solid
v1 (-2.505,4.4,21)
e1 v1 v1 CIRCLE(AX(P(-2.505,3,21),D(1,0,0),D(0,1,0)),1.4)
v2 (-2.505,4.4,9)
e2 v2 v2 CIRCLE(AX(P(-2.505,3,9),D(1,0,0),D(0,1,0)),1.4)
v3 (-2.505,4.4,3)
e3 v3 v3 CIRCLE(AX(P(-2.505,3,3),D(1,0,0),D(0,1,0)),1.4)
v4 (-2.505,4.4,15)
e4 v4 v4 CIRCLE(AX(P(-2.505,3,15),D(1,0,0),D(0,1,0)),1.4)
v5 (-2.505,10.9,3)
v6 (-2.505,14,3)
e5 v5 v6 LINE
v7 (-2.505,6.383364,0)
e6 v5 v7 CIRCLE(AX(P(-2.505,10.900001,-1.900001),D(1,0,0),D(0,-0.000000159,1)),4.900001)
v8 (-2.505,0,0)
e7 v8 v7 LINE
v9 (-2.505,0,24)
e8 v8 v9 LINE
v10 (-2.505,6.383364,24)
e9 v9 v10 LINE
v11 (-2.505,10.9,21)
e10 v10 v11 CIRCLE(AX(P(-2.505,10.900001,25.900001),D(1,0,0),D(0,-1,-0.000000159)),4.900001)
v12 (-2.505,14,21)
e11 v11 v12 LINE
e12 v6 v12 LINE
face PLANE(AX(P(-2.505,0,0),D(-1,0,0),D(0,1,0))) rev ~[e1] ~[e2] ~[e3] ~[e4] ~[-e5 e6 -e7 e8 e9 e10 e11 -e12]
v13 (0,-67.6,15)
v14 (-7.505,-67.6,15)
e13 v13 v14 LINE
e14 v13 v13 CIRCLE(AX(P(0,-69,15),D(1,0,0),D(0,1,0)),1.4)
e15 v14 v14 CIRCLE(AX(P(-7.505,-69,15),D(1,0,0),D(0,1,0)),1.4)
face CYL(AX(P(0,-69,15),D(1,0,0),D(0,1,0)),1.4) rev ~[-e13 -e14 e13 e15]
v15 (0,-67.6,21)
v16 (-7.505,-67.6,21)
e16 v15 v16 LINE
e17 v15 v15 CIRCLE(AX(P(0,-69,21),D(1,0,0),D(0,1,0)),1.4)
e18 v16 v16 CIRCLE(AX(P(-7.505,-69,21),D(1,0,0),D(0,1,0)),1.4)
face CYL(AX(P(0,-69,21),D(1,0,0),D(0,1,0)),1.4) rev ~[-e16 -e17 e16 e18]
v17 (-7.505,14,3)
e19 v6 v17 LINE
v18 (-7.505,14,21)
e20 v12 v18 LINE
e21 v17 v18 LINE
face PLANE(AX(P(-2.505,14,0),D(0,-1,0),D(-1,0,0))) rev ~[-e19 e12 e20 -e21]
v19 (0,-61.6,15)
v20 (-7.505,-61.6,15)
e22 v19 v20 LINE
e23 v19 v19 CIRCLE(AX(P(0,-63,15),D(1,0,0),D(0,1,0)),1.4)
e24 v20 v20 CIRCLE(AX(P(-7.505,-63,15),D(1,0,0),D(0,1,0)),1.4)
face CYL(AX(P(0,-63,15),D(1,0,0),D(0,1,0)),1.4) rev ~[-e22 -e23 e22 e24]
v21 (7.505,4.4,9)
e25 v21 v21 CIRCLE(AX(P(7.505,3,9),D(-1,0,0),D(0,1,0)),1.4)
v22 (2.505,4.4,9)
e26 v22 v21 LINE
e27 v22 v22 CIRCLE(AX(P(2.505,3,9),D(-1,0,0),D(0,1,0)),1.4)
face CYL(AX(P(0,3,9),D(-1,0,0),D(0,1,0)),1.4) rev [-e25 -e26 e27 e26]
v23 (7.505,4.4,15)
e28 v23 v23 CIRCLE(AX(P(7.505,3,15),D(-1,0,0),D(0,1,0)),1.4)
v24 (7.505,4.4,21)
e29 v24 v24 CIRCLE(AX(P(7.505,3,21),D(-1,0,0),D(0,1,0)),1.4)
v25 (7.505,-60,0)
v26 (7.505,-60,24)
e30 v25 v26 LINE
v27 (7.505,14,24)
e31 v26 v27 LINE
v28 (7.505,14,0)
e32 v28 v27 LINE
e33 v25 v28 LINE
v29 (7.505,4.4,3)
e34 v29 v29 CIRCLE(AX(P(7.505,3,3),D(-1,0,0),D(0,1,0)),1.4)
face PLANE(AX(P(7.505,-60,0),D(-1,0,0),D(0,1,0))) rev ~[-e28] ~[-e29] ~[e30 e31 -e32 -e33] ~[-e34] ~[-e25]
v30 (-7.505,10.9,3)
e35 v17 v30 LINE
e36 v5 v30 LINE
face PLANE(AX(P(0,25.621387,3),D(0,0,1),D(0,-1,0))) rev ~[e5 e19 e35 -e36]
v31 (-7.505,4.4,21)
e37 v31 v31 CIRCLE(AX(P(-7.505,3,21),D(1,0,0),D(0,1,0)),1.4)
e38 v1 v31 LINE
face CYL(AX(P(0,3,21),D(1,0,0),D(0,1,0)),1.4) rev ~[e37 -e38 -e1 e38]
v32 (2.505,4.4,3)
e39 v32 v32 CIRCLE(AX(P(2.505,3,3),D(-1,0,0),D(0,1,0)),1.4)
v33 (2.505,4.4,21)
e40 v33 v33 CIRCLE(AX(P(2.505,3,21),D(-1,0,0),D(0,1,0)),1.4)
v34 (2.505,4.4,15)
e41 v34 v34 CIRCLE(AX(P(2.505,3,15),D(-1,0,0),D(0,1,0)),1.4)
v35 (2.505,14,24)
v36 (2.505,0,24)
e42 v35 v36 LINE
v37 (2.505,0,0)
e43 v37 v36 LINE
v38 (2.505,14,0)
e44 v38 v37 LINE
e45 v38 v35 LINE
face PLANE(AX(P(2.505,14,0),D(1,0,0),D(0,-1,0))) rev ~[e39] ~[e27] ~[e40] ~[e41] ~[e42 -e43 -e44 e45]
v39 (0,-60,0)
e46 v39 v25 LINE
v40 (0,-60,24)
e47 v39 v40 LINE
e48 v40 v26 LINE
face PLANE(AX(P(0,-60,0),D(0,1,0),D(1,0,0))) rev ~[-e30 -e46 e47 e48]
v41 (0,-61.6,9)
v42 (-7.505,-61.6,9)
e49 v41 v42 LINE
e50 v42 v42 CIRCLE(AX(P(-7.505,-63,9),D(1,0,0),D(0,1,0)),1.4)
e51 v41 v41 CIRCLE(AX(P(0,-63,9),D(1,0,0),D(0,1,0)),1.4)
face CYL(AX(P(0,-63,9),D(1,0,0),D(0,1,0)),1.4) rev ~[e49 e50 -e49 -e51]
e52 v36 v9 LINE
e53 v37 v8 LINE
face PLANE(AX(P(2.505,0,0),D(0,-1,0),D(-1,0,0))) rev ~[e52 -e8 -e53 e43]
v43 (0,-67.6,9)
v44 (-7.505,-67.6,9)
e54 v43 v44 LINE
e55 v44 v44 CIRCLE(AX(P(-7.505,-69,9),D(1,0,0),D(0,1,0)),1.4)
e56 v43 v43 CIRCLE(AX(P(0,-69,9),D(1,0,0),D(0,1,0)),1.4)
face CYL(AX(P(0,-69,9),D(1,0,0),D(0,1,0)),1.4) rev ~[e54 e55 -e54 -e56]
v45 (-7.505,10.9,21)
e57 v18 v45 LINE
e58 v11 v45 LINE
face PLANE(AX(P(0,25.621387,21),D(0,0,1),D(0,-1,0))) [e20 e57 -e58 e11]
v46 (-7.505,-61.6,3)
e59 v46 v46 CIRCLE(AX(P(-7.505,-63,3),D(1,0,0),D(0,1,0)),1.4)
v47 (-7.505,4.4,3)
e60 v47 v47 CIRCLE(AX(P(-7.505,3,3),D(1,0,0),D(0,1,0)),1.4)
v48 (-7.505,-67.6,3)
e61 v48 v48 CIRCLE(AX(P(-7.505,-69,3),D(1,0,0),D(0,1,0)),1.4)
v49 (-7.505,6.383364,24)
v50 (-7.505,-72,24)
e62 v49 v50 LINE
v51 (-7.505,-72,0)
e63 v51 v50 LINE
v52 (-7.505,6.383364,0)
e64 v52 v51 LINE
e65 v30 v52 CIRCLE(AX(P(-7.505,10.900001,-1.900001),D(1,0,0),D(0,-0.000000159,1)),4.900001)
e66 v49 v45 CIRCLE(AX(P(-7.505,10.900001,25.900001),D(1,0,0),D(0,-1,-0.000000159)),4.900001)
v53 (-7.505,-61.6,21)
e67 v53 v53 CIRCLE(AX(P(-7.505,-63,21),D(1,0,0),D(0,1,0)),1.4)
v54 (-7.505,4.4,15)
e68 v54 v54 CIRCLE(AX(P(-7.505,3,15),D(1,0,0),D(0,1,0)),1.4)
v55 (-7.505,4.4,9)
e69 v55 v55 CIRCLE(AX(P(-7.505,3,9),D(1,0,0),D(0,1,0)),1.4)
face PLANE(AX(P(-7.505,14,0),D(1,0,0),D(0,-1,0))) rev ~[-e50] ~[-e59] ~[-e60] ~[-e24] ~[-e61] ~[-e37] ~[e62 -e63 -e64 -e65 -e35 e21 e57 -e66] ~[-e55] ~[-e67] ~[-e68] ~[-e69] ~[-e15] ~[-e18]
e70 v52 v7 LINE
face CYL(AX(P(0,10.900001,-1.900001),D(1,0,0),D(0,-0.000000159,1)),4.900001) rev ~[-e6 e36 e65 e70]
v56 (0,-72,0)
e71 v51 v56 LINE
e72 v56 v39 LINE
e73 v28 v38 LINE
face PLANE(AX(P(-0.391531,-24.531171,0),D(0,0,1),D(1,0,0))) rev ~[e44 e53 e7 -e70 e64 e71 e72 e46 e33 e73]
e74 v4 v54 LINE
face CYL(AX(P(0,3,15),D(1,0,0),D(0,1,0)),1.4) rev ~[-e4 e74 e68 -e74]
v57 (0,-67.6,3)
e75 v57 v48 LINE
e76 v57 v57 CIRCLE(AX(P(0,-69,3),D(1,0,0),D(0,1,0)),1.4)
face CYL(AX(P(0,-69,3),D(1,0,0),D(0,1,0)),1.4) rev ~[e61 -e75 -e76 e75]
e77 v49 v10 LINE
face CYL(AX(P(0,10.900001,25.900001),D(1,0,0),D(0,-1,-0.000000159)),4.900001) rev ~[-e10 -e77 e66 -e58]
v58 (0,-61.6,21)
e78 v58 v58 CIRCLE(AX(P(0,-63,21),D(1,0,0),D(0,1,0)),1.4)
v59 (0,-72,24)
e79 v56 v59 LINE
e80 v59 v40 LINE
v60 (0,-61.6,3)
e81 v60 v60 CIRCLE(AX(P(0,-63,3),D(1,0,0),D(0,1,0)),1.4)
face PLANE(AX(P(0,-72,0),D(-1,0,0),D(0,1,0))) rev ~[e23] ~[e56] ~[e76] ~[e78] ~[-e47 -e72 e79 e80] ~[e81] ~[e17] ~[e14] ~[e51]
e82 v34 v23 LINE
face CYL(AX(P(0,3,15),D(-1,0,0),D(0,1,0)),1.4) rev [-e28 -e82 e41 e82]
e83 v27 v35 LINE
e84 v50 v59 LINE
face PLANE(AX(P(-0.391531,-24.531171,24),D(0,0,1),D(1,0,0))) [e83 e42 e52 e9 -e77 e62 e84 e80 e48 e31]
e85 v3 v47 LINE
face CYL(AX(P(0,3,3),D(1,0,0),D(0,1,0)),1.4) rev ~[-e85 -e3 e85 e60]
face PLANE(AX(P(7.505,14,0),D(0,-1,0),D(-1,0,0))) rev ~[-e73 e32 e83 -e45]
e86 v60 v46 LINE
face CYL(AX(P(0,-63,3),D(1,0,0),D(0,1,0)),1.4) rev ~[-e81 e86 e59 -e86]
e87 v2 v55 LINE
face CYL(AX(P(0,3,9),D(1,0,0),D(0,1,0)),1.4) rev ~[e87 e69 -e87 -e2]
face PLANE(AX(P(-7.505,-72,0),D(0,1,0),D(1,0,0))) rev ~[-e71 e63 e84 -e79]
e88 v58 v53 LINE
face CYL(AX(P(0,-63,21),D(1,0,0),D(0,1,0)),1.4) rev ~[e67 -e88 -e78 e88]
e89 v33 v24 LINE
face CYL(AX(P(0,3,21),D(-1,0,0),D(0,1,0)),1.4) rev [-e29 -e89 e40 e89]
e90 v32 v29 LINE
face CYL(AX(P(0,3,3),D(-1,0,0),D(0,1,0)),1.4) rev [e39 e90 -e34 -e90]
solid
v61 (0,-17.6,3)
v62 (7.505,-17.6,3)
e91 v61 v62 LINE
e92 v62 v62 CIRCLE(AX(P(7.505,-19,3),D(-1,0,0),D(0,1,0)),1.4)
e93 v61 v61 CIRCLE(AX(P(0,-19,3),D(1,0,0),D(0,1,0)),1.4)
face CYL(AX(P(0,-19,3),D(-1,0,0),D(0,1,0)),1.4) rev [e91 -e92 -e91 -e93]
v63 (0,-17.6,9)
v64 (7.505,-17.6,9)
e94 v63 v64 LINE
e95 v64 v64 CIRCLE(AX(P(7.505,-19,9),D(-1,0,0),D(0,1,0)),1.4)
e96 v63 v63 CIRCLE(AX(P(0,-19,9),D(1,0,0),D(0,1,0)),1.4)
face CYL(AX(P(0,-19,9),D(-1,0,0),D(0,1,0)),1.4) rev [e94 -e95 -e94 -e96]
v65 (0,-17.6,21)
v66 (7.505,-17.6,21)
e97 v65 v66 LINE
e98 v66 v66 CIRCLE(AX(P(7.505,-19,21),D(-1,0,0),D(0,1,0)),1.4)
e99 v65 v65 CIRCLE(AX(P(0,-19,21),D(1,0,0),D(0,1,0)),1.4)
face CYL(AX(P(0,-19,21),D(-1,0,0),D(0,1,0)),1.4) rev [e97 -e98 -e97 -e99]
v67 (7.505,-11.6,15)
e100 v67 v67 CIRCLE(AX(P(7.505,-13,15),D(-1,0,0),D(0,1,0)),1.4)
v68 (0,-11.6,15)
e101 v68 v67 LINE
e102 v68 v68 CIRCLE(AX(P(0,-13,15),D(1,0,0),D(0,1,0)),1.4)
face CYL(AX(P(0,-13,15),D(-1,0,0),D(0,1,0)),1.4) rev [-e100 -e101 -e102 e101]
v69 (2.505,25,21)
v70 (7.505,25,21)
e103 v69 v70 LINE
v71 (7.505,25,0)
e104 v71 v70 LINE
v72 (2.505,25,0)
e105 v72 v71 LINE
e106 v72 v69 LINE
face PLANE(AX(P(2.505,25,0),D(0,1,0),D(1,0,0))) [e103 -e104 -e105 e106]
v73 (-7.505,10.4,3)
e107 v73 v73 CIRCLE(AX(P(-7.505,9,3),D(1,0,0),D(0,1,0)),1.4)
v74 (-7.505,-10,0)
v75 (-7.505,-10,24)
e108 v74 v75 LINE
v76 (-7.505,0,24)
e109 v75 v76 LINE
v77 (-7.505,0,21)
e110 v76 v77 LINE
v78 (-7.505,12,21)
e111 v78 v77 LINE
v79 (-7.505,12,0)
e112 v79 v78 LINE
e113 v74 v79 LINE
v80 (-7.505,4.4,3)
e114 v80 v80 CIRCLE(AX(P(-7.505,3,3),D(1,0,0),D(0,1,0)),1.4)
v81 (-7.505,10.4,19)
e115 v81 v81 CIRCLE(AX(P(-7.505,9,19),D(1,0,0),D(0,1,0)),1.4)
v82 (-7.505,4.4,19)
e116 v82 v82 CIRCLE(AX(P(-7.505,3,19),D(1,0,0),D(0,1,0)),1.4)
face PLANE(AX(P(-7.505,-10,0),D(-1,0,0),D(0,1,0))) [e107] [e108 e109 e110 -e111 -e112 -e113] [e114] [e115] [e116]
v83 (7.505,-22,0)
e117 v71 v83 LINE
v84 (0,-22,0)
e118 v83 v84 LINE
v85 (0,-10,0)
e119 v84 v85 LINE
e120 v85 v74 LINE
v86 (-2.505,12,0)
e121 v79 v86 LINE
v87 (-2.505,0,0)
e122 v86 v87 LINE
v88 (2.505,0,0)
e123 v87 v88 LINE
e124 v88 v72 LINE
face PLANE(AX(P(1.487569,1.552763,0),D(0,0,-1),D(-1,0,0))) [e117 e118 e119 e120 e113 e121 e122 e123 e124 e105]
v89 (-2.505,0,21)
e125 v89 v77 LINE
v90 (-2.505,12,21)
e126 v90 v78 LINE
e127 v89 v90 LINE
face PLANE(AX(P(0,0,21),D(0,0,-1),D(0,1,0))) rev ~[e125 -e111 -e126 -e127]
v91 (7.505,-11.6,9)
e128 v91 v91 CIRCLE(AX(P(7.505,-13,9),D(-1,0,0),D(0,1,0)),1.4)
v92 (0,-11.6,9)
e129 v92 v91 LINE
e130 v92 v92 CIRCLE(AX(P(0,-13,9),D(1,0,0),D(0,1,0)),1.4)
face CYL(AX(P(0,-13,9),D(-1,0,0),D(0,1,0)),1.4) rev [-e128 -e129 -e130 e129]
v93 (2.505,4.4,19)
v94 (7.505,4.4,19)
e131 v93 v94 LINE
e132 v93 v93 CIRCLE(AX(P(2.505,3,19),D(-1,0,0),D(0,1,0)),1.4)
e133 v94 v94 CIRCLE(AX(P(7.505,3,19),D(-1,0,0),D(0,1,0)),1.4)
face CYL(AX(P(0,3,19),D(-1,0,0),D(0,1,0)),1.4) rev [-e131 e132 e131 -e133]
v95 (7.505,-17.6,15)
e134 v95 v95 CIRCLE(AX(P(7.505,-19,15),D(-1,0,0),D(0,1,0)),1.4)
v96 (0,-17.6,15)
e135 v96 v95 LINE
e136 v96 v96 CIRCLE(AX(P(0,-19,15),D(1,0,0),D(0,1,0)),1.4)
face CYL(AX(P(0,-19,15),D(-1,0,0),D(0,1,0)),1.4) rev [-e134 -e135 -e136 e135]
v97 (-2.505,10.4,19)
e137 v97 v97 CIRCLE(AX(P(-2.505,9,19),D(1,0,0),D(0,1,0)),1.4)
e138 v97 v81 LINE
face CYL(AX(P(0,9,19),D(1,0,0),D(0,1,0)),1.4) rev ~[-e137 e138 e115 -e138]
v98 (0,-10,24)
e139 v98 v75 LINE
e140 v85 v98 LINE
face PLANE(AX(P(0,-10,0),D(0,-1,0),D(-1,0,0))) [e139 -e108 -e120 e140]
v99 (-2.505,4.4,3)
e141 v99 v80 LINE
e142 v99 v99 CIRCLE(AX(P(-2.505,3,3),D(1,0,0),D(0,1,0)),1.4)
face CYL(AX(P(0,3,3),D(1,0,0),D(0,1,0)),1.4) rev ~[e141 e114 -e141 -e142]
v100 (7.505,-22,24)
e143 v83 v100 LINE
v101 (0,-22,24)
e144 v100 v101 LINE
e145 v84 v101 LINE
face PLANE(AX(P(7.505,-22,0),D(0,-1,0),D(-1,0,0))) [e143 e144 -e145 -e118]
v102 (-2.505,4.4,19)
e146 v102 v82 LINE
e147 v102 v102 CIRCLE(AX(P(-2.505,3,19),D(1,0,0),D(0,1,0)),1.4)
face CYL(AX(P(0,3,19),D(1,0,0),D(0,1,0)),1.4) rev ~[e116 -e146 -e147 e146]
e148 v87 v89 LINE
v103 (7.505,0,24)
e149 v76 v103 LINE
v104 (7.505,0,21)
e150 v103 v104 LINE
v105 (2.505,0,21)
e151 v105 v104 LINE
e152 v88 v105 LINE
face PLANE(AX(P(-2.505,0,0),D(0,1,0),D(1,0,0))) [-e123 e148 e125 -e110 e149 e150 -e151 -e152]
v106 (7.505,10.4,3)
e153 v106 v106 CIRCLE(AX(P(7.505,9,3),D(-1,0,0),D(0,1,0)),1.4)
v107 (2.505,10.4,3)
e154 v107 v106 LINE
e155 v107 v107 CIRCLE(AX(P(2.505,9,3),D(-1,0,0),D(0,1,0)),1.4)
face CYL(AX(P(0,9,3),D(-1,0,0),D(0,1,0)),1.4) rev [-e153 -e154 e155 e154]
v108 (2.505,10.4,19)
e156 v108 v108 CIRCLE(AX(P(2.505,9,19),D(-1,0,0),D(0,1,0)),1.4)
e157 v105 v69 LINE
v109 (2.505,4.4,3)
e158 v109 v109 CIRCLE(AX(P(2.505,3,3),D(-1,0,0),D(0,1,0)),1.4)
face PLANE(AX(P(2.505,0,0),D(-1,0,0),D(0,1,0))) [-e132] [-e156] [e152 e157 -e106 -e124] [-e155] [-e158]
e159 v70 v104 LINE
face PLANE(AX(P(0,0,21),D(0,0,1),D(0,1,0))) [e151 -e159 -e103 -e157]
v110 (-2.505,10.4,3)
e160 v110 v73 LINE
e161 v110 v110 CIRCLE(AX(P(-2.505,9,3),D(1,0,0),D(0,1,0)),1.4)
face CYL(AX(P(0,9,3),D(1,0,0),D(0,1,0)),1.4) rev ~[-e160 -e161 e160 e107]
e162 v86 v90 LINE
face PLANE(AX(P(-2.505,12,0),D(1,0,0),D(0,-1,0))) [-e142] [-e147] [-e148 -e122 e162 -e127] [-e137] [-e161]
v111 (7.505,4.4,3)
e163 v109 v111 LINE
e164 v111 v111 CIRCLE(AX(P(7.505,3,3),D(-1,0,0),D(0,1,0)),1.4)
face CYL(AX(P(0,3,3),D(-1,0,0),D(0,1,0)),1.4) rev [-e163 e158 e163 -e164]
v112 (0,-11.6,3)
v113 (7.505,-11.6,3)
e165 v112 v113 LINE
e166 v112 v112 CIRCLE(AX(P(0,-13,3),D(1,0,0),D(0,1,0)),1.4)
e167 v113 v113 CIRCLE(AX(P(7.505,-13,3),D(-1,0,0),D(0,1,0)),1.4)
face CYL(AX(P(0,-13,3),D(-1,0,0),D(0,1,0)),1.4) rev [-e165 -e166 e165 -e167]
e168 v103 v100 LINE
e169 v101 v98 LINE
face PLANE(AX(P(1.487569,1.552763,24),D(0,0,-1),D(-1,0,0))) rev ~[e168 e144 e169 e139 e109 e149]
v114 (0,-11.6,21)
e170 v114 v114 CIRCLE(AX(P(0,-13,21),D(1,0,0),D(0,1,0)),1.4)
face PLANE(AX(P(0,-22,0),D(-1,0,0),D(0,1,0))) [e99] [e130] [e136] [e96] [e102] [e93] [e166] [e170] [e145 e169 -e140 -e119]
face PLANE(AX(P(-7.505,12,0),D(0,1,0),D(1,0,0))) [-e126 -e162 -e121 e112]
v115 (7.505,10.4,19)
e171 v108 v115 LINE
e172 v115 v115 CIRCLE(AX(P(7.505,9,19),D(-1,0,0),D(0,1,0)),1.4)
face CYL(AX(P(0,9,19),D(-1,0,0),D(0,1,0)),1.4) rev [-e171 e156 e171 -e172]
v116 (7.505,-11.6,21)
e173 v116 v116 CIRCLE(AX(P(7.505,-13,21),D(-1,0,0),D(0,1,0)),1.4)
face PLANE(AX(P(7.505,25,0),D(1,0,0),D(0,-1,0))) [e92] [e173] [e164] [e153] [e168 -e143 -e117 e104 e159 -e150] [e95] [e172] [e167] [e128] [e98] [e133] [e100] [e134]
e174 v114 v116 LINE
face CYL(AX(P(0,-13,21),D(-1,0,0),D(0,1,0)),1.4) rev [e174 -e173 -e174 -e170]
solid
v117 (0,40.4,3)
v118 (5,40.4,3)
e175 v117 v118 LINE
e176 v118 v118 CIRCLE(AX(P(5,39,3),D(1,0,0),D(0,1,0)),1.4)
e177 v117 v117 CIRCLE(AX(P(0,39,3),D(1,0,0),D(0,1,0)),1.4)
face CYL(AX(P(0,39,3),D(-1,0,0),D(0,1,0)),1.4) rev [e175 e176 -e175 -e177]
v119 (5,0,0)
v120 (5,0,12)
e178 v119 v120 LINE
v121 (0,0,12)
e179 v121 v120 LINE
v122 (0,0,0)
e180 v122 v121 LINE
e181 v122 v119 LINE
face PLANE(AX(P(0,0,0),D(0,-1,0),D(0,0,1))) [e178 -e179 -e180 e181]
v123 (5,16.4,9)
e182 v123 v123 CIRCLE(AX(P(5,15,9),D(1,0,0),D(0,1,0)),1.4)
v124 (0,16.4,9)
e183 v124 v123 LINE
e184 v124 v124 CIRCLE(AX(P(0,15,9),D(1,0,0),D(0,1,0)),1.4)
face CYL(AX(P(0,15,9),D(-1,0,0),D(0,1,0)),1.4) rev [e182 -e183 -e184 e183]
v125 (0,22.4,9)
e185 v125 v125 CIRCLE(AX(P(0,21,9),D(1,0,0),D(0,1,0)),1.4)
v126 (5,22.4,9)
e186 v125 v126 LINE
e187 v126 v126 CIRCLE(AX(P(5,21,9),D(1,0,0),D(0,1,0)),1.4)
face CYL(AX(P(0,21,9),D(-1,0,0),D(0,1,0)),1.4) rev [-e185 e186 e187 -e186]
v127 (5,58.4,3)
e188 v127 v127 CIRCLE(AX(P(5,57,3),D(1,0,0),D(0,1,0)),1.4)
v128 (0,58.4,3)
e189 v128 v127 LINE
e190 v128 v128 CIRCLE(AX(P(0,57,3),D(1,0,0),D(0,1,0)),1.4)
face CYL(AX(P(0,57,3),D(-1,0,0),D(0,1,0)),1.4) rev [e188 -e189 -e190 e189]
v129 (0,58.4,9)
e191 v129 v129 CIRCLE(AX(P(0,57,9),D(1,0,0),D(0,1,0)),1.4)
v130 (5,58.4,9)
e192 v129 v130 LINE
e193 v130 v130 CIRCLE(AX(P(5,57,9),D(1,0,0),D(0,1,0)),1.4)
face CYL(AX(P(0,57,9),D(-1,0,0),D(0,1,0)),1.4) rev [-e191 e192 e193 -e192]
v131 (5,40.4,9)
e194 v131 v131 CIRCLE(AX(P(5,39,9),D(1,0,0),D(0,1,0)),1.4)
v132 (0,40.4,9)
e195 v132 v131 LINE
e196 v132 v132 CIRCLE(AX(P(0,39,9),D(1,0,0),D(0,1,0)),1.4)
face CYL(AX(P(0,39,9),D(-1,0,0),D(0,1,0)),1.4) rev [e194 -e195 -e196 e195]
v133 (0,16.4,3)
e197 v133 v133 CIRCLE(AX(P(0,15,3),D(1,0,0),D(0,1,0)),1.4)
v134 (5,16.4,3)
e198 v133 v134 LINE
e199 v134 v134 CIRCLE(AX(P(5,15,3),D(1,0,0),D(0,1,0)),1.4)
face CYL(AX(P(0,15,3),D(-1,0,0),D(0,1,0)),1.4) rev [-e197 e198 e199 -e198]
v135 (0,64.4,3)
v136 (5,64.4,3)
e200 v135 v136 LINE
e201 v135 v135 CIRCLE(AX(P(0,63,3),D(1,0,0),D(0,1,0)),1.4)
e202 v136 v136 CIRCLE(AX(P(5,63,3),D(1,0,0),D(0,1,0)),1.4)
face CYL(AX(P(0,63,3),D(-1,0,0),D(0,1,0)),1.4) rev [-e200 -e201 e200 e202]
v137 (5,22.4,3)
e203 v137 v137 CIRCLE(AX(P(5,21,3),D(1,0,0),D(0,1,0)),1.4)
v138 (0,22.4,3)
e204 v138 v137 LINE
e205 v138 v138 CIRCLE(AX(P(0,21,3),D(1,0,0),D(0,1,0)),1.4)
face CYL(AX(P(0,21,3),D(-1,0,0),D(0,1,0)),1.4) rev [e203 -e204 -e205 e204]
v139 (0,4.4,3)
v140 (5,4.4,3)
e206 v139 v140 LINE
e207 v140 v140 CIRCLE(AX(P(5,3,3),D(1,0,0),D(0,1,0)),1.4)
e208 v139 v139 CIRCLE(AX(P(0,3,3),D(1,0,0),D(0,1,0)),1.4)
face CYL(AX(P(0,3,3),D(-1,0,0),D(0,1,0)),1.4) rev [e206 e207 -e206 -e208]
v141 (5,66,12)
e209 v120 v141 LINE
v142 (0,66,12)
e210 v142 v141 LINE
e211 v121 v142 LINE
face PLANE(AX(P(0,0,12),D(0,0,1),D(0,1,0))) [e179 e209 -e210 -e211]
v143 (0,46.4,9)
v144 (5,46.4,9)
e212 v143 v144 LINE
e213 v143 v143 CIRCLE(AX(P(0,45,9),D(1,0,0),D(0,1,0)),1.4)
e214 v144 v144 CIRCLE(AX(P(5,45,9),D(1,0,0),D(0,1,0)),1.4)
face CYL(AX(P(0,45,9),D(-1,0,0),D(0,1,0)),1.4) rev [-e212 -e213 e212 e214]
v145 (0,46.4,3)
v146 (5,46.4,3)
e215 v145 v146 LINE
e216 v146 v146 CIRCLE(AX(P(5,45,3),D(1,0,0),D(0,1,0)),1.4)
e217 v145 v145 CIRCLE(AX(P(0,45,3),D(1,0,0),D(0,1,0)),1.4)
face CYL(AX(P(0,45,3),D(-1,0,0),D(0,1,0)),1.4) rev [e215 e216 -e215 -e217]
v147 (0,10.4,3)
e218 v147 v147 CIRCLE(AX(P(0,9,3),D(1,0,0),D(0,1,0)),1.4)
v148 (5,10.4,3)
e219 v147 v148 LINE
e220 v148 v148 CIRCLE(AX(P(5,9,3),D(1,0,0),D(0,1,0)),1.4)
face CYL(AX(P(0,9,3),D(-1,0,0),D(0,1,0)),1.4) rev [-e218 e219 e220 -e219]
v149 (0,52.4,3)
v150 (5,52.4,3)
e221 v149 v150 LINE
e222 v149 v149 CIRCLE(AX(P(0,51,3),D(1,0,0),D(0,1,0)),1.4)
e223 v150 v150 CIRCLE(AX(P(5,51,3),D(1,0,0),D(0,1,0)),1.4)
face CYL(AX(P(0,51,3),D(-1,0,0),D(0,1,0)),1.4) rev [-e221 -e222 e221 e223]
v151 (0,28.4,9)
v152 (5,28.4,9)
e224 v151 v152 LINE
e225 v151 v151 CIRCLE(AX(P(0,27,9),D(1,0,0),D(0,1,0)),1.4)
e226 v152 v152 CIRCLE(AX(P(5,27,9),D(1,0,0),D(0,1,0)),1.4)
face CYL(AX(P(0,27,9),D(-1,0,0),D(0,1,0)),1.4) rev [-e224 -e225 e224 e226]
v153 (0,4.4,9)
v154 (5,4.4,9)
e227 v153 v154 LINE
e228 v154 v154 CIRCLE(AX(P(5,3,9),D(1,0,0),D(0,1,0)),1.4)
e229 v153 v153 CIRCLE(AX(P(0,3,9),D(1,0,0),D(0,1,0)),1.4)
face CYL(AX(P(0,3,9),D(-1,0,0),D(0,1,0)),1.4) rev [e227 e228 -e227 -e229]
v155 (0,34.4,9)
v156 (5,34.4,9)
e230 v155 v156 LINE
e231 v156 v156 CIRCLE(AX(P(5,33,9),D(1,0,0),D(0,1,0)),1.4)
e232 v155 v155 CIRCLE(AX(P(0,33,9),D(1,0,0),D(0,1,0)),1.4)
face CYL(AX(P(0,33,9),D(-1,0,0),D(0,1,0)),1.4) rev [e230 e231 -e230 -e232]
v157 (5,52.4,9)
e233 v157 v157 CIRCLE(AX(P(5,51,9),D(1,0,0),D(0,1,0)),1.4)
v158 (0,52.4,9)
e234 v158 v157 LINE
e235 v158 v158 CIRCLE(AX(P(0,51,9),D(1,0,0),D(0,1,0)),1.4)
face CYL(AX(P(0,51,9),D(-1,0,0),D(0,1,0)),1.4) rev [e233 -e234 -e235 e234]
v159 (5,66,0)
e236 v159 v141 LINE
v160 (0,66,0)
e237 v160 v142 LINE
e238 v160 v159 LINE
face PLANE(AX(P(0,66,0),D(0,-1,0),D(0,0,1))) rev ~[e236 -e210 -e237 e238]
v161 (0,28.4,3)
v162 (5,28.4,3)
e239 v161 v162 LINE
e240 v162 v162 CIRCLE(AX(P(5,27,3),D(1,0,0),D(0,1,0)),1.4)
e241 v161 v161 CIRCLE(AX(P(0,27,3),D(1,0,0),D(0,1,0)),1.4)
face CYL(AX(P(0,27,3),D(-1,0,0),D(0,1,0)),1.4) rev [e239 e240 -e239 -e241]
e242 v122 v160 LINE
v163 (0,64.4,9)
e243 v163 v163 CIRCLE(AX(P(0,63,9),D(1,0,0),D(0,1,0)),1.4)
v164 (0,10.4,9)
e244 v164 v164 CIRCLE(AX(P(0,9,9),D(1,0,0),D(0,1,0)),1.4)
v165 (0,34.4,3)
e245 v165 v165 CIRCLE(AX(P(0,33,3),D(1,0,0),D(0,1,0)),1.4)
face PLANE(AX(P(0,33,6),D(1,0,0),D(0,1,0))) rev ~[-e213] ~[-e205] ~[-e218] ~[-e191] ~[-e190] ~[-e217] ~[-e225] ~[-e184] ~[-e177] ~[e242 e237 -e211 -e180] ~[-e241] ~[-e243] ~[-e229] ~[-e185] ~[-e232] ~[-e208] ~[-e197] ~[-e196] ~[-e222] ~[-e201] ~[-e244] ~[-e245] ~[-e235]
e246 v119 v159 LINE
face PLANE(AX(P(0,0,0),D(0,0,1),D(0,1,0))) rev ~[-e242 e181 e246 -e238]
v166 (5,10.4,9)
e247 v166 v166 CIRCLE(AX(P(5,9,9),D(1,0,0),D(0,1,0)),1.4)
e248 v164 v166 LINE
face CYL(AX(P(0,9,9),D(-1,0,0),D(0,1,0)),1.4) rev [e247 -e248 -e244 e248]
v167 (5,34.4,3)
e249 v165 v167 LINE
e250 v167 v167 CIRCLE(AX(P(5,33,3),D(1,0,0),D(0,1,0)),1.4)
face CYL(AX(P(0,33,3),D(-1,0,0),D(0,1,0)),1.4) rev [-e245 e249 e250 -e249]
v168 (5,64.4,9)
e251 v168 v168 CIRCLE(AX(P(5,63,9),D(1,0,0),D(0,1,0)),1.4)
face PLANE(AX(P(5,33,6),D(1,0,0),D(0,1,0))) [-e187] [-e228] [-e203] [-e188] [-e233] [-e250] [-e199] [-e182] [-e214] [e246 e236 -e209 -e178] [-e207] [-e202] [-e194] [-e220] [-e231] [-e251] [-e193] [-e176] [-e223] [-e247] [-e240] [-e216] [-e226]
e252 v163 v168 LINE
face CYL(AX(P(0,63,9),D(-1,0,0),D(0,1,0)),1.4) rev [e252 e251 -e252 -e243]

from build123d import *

# Parameters (mm, degrees)
PAD_DEPTH            = 24
SKETCH001_R          = 1.4
POCKET_DEPTH         = 7.506
POCKET_DEPTH_BACK    = -7.506
POCKET001_DEPTH      = 7.506
PAD001_DEPTH         = 24
SKETCH004_R          = 1.4
SKETCH004_W          = 25
SKETCH004_H          = 6
POCKET002_DEPTH      = 7.506
POCKET002_DEPTH_BACK = -7.506
SKETCH005_W          = 66
SKETCH005_H          = 12
SKETCH005_R          = 1.4
PAD002_DEPTH         = 5


with BuildPart() as bodyfrontconnextender:
    # Sketch → Pad (new body)
    with BuildSketch(Plane.XY):
        Polygon((-2.505, 0), (-2.505, 14), (-7.505, 14), (-7.505, -72), (0, -72), (0, -60), (7.505, -60), (7.505, 14), (2.505, 14), (2.505, 0), align=None)
    extrude(amount=PAD_DEPTH)

    # Sketch001 → Pocket (cut, two sides)
    with BuildSketch(Plane.YZ) as pocket_sk:
        with Locations((3, 9)):
            Circle(SKETCH001_R)
        with Locations((3, 3)):
            Circle(SKETCH001_R)
        with Locations((-69, 3)):
            Circle(SKETCH001_R)
        with Locations((-69, 9)):
            Circle(SKETCH001_R)
        with Locations((3, 15)):
            Circle(SKETCH001_R)
        with Locations((-69, 15)):
            Circle(SKETCH001_R)
        with Locations((-69, 21)):
            Circle(SKETCH001_R)
        with Locations((3, 21)):
            Circle(SKETCH001_R)
        with Locations((-63, 21)):
            Circle(SKETCH001_R)
        with Locations((-63, 15)):
            Circle(SKETCH001_R)
        with Locations((-63, 9)):
            Circle(SKETCH001_R)
        with Locations((-63, 3)):
            Circle(SKETCH001_R)
    extrude(amount=-POCKET_DEPTH, mode=Mode.SUBTRACT)
    extrude(pocket_sk.sketch, amount=-POCKET_DEPTH_BACK, mode=Mode.SUBTRACT)

    # Sketch002 → Pocket001 (cut, through all)
    with BuildSketch(Plane.YZ):
        with BuildLine():
            ThreePointArc((10.9, 3), (7.435177, 1.564823), (6, -1.9))
            Line((6, -10.46395), (6, -1.9))
            Line((30.665041, -10.46395), (6, -10.46395))
            Line((30.665041, 34.46395), (30.665041, -10.46395))
            Line((30.665041, 34.46395), (6, 34.46395))
            Line((6, 34.46395), (6, 25.9))
            ThreePointArc((6, 25.9), (7.435177, 22.435177), (10.9, 21))
            Line((25.621387, 21), (10.9, 21))
            Line((25.621387, 21), (25.621387, 3))
            Line((25.621387, 3), (10.9, 3))
        make_face()
    extrude(amount=-POCKET001_DEPTH, mode=Mode.SUBTRACT)


with BuildPart() as body001rearconnextender:
    # Sketch003 → Pad001 (new body)
    with BuildSketch(Plane.XY):
        Polygon((-2.505, 0), (2.505, 0), (2.505, 25), (7.505, 25), (7.505, -22), (0, -22), (0, -10), (-7.505, -10), (-7.505, 12), (-2.505, 12), align=None)
    extrude(amount=PAD001_DEPTH)

    # Sketch004 → Pocket002 (cut, two sides)
    with BuildSketch(Plane.YZ) as pocket002_sk:
        with Locations((3, 3)):
            Circle(SKETCH004_R)
        with Locations((9, 3)):
            Circle(SKETCH004_R)
        with Locations((-13, 21)):
            Circle(SKETCH004_R)
        with Locations((-13, 15)):
            Circle(SKETCH004_R)
        with Locations((-13, 9)):
            Circle(SKETCH004_R)
        with Locations((-13, 3)):
            Circle(SKETCH004_R)
        with Locations((3, 19)):
            Circle(SKETCH004_R)
        with Locations((9, 19)):
            Circle(SKETCH004_R)
        with Locations((-19, 21)):
            Circle(SKETCH004_R)
        with Locations((-19, 15)):
            Circle(SKETCH004_R)
        with Locations((-19, 9)):
            Circle(SKETCH004_R)
        with Locations((-19, 3)):
            Circle(SKETCH004_R)
        with Locations((12.5, 24)):
            Rectangle(SKETCH004_W, SKETCH004_H)
    extrude(amount=-POCKET002_DEPTH, mode=Mode.SUBTRACT)
    extrude(pocket002_sk.sketch, amount=-POCKET002_DEPTH_BACK, mode=Mode.SUBTRACT)


with BuildPart() as body002middleconn:
    # Sketch005 → Pad002 (new body)
    with BuildSketch(Plane.YZ):
        with Locations((33, 6)):
            Rectangle(SKETCH005_W, SKETCH005_H)
        with Locations((3, 9)):
            Circle(SKETCH005_R, mode=Mode.SUBTRACT)
        with Locations((9, 9)):
            Circle(SKETCH005_R, mode=Mode.SUBTRACT)
        with Locations((15, 9)):
            Circle(SKETCH005_R, mode=Mode.SUBTRACT)
        with Locations((21, 9)):
            Circle(SKETCH005_R, mode=Mode.SUBTRACT)
        with Locations((27, 9)):
            Circle(SKETCH005_R, mode=Mode.SUBTRACT)
        with Locations((33, 9)):
            Circle(SKETCH005_R, mode=Mode.SUBTRACT)
        with Locations((39, 9)):
            Circle(SKETCH005_R, mode=Mode.SUBTRACT)
        with Locations((45, 9)):
            Circle(SKETCH005_R, mode=Mode.SUBTRACT)
        with Locations((51, 9)):
            Circle(SKETCH005_R, mode=Mode.SUBTRACT)
        with Locations((57, 9)):
            Circle(SKETCH005_R, mode=Mode.SUBTRACT)
        with Locations((63, 9)):
            Circle(SKETCH005_R, mode=Mode.SUBTRACT)
        with Locations((3, 3)):
            Circle(SKETCH005_R, mode=Mode.SUBTRACT)
        with Locations((9, 3)):
            Circle(SKETCH005_R, mode=Mode.SUBTRACT)
        with Locations((15, 3)):
            Circle(SKETCH005_R, mode=Mode.SUBTRACT)
        with Locations((21, 3)):
            Circle(SKETCH005_R, mode=Mode.SUBTRACT)
        with Locations((27, 3)):
            Circle(SKETCH005_R, mode=Mode.SUBTRACT)
        with Locations((33, 3)):
            Circle(SKETCH005_R, mode=Mode.SUBTRACT)
        with Locations((39, 3)):
            Circle(SKETCH005_R, mode=Mode.SUBTRACT)
        with Locations((45, 3)):
            Circle(SKETCH005_R, mode=Mode.SUBTRACT)
        with Locations((51, 3)):
            Circle(SKETCH005_R, mode=Mode.SUBTRACT)
        with Locations((57, 3)):
            Circle(SKETCH005_R, mode=Mode.SUBTRACT)
        with Locations((63, 3)):
            Circle(SKETCH005_R, mode=Mode.SUBTRACT)
    extrude(amount=PAD002_DEPTH)


solid = Compound([bodyfrontconnextender.part, body001rearconnextender.part, body002middleconn.part])
